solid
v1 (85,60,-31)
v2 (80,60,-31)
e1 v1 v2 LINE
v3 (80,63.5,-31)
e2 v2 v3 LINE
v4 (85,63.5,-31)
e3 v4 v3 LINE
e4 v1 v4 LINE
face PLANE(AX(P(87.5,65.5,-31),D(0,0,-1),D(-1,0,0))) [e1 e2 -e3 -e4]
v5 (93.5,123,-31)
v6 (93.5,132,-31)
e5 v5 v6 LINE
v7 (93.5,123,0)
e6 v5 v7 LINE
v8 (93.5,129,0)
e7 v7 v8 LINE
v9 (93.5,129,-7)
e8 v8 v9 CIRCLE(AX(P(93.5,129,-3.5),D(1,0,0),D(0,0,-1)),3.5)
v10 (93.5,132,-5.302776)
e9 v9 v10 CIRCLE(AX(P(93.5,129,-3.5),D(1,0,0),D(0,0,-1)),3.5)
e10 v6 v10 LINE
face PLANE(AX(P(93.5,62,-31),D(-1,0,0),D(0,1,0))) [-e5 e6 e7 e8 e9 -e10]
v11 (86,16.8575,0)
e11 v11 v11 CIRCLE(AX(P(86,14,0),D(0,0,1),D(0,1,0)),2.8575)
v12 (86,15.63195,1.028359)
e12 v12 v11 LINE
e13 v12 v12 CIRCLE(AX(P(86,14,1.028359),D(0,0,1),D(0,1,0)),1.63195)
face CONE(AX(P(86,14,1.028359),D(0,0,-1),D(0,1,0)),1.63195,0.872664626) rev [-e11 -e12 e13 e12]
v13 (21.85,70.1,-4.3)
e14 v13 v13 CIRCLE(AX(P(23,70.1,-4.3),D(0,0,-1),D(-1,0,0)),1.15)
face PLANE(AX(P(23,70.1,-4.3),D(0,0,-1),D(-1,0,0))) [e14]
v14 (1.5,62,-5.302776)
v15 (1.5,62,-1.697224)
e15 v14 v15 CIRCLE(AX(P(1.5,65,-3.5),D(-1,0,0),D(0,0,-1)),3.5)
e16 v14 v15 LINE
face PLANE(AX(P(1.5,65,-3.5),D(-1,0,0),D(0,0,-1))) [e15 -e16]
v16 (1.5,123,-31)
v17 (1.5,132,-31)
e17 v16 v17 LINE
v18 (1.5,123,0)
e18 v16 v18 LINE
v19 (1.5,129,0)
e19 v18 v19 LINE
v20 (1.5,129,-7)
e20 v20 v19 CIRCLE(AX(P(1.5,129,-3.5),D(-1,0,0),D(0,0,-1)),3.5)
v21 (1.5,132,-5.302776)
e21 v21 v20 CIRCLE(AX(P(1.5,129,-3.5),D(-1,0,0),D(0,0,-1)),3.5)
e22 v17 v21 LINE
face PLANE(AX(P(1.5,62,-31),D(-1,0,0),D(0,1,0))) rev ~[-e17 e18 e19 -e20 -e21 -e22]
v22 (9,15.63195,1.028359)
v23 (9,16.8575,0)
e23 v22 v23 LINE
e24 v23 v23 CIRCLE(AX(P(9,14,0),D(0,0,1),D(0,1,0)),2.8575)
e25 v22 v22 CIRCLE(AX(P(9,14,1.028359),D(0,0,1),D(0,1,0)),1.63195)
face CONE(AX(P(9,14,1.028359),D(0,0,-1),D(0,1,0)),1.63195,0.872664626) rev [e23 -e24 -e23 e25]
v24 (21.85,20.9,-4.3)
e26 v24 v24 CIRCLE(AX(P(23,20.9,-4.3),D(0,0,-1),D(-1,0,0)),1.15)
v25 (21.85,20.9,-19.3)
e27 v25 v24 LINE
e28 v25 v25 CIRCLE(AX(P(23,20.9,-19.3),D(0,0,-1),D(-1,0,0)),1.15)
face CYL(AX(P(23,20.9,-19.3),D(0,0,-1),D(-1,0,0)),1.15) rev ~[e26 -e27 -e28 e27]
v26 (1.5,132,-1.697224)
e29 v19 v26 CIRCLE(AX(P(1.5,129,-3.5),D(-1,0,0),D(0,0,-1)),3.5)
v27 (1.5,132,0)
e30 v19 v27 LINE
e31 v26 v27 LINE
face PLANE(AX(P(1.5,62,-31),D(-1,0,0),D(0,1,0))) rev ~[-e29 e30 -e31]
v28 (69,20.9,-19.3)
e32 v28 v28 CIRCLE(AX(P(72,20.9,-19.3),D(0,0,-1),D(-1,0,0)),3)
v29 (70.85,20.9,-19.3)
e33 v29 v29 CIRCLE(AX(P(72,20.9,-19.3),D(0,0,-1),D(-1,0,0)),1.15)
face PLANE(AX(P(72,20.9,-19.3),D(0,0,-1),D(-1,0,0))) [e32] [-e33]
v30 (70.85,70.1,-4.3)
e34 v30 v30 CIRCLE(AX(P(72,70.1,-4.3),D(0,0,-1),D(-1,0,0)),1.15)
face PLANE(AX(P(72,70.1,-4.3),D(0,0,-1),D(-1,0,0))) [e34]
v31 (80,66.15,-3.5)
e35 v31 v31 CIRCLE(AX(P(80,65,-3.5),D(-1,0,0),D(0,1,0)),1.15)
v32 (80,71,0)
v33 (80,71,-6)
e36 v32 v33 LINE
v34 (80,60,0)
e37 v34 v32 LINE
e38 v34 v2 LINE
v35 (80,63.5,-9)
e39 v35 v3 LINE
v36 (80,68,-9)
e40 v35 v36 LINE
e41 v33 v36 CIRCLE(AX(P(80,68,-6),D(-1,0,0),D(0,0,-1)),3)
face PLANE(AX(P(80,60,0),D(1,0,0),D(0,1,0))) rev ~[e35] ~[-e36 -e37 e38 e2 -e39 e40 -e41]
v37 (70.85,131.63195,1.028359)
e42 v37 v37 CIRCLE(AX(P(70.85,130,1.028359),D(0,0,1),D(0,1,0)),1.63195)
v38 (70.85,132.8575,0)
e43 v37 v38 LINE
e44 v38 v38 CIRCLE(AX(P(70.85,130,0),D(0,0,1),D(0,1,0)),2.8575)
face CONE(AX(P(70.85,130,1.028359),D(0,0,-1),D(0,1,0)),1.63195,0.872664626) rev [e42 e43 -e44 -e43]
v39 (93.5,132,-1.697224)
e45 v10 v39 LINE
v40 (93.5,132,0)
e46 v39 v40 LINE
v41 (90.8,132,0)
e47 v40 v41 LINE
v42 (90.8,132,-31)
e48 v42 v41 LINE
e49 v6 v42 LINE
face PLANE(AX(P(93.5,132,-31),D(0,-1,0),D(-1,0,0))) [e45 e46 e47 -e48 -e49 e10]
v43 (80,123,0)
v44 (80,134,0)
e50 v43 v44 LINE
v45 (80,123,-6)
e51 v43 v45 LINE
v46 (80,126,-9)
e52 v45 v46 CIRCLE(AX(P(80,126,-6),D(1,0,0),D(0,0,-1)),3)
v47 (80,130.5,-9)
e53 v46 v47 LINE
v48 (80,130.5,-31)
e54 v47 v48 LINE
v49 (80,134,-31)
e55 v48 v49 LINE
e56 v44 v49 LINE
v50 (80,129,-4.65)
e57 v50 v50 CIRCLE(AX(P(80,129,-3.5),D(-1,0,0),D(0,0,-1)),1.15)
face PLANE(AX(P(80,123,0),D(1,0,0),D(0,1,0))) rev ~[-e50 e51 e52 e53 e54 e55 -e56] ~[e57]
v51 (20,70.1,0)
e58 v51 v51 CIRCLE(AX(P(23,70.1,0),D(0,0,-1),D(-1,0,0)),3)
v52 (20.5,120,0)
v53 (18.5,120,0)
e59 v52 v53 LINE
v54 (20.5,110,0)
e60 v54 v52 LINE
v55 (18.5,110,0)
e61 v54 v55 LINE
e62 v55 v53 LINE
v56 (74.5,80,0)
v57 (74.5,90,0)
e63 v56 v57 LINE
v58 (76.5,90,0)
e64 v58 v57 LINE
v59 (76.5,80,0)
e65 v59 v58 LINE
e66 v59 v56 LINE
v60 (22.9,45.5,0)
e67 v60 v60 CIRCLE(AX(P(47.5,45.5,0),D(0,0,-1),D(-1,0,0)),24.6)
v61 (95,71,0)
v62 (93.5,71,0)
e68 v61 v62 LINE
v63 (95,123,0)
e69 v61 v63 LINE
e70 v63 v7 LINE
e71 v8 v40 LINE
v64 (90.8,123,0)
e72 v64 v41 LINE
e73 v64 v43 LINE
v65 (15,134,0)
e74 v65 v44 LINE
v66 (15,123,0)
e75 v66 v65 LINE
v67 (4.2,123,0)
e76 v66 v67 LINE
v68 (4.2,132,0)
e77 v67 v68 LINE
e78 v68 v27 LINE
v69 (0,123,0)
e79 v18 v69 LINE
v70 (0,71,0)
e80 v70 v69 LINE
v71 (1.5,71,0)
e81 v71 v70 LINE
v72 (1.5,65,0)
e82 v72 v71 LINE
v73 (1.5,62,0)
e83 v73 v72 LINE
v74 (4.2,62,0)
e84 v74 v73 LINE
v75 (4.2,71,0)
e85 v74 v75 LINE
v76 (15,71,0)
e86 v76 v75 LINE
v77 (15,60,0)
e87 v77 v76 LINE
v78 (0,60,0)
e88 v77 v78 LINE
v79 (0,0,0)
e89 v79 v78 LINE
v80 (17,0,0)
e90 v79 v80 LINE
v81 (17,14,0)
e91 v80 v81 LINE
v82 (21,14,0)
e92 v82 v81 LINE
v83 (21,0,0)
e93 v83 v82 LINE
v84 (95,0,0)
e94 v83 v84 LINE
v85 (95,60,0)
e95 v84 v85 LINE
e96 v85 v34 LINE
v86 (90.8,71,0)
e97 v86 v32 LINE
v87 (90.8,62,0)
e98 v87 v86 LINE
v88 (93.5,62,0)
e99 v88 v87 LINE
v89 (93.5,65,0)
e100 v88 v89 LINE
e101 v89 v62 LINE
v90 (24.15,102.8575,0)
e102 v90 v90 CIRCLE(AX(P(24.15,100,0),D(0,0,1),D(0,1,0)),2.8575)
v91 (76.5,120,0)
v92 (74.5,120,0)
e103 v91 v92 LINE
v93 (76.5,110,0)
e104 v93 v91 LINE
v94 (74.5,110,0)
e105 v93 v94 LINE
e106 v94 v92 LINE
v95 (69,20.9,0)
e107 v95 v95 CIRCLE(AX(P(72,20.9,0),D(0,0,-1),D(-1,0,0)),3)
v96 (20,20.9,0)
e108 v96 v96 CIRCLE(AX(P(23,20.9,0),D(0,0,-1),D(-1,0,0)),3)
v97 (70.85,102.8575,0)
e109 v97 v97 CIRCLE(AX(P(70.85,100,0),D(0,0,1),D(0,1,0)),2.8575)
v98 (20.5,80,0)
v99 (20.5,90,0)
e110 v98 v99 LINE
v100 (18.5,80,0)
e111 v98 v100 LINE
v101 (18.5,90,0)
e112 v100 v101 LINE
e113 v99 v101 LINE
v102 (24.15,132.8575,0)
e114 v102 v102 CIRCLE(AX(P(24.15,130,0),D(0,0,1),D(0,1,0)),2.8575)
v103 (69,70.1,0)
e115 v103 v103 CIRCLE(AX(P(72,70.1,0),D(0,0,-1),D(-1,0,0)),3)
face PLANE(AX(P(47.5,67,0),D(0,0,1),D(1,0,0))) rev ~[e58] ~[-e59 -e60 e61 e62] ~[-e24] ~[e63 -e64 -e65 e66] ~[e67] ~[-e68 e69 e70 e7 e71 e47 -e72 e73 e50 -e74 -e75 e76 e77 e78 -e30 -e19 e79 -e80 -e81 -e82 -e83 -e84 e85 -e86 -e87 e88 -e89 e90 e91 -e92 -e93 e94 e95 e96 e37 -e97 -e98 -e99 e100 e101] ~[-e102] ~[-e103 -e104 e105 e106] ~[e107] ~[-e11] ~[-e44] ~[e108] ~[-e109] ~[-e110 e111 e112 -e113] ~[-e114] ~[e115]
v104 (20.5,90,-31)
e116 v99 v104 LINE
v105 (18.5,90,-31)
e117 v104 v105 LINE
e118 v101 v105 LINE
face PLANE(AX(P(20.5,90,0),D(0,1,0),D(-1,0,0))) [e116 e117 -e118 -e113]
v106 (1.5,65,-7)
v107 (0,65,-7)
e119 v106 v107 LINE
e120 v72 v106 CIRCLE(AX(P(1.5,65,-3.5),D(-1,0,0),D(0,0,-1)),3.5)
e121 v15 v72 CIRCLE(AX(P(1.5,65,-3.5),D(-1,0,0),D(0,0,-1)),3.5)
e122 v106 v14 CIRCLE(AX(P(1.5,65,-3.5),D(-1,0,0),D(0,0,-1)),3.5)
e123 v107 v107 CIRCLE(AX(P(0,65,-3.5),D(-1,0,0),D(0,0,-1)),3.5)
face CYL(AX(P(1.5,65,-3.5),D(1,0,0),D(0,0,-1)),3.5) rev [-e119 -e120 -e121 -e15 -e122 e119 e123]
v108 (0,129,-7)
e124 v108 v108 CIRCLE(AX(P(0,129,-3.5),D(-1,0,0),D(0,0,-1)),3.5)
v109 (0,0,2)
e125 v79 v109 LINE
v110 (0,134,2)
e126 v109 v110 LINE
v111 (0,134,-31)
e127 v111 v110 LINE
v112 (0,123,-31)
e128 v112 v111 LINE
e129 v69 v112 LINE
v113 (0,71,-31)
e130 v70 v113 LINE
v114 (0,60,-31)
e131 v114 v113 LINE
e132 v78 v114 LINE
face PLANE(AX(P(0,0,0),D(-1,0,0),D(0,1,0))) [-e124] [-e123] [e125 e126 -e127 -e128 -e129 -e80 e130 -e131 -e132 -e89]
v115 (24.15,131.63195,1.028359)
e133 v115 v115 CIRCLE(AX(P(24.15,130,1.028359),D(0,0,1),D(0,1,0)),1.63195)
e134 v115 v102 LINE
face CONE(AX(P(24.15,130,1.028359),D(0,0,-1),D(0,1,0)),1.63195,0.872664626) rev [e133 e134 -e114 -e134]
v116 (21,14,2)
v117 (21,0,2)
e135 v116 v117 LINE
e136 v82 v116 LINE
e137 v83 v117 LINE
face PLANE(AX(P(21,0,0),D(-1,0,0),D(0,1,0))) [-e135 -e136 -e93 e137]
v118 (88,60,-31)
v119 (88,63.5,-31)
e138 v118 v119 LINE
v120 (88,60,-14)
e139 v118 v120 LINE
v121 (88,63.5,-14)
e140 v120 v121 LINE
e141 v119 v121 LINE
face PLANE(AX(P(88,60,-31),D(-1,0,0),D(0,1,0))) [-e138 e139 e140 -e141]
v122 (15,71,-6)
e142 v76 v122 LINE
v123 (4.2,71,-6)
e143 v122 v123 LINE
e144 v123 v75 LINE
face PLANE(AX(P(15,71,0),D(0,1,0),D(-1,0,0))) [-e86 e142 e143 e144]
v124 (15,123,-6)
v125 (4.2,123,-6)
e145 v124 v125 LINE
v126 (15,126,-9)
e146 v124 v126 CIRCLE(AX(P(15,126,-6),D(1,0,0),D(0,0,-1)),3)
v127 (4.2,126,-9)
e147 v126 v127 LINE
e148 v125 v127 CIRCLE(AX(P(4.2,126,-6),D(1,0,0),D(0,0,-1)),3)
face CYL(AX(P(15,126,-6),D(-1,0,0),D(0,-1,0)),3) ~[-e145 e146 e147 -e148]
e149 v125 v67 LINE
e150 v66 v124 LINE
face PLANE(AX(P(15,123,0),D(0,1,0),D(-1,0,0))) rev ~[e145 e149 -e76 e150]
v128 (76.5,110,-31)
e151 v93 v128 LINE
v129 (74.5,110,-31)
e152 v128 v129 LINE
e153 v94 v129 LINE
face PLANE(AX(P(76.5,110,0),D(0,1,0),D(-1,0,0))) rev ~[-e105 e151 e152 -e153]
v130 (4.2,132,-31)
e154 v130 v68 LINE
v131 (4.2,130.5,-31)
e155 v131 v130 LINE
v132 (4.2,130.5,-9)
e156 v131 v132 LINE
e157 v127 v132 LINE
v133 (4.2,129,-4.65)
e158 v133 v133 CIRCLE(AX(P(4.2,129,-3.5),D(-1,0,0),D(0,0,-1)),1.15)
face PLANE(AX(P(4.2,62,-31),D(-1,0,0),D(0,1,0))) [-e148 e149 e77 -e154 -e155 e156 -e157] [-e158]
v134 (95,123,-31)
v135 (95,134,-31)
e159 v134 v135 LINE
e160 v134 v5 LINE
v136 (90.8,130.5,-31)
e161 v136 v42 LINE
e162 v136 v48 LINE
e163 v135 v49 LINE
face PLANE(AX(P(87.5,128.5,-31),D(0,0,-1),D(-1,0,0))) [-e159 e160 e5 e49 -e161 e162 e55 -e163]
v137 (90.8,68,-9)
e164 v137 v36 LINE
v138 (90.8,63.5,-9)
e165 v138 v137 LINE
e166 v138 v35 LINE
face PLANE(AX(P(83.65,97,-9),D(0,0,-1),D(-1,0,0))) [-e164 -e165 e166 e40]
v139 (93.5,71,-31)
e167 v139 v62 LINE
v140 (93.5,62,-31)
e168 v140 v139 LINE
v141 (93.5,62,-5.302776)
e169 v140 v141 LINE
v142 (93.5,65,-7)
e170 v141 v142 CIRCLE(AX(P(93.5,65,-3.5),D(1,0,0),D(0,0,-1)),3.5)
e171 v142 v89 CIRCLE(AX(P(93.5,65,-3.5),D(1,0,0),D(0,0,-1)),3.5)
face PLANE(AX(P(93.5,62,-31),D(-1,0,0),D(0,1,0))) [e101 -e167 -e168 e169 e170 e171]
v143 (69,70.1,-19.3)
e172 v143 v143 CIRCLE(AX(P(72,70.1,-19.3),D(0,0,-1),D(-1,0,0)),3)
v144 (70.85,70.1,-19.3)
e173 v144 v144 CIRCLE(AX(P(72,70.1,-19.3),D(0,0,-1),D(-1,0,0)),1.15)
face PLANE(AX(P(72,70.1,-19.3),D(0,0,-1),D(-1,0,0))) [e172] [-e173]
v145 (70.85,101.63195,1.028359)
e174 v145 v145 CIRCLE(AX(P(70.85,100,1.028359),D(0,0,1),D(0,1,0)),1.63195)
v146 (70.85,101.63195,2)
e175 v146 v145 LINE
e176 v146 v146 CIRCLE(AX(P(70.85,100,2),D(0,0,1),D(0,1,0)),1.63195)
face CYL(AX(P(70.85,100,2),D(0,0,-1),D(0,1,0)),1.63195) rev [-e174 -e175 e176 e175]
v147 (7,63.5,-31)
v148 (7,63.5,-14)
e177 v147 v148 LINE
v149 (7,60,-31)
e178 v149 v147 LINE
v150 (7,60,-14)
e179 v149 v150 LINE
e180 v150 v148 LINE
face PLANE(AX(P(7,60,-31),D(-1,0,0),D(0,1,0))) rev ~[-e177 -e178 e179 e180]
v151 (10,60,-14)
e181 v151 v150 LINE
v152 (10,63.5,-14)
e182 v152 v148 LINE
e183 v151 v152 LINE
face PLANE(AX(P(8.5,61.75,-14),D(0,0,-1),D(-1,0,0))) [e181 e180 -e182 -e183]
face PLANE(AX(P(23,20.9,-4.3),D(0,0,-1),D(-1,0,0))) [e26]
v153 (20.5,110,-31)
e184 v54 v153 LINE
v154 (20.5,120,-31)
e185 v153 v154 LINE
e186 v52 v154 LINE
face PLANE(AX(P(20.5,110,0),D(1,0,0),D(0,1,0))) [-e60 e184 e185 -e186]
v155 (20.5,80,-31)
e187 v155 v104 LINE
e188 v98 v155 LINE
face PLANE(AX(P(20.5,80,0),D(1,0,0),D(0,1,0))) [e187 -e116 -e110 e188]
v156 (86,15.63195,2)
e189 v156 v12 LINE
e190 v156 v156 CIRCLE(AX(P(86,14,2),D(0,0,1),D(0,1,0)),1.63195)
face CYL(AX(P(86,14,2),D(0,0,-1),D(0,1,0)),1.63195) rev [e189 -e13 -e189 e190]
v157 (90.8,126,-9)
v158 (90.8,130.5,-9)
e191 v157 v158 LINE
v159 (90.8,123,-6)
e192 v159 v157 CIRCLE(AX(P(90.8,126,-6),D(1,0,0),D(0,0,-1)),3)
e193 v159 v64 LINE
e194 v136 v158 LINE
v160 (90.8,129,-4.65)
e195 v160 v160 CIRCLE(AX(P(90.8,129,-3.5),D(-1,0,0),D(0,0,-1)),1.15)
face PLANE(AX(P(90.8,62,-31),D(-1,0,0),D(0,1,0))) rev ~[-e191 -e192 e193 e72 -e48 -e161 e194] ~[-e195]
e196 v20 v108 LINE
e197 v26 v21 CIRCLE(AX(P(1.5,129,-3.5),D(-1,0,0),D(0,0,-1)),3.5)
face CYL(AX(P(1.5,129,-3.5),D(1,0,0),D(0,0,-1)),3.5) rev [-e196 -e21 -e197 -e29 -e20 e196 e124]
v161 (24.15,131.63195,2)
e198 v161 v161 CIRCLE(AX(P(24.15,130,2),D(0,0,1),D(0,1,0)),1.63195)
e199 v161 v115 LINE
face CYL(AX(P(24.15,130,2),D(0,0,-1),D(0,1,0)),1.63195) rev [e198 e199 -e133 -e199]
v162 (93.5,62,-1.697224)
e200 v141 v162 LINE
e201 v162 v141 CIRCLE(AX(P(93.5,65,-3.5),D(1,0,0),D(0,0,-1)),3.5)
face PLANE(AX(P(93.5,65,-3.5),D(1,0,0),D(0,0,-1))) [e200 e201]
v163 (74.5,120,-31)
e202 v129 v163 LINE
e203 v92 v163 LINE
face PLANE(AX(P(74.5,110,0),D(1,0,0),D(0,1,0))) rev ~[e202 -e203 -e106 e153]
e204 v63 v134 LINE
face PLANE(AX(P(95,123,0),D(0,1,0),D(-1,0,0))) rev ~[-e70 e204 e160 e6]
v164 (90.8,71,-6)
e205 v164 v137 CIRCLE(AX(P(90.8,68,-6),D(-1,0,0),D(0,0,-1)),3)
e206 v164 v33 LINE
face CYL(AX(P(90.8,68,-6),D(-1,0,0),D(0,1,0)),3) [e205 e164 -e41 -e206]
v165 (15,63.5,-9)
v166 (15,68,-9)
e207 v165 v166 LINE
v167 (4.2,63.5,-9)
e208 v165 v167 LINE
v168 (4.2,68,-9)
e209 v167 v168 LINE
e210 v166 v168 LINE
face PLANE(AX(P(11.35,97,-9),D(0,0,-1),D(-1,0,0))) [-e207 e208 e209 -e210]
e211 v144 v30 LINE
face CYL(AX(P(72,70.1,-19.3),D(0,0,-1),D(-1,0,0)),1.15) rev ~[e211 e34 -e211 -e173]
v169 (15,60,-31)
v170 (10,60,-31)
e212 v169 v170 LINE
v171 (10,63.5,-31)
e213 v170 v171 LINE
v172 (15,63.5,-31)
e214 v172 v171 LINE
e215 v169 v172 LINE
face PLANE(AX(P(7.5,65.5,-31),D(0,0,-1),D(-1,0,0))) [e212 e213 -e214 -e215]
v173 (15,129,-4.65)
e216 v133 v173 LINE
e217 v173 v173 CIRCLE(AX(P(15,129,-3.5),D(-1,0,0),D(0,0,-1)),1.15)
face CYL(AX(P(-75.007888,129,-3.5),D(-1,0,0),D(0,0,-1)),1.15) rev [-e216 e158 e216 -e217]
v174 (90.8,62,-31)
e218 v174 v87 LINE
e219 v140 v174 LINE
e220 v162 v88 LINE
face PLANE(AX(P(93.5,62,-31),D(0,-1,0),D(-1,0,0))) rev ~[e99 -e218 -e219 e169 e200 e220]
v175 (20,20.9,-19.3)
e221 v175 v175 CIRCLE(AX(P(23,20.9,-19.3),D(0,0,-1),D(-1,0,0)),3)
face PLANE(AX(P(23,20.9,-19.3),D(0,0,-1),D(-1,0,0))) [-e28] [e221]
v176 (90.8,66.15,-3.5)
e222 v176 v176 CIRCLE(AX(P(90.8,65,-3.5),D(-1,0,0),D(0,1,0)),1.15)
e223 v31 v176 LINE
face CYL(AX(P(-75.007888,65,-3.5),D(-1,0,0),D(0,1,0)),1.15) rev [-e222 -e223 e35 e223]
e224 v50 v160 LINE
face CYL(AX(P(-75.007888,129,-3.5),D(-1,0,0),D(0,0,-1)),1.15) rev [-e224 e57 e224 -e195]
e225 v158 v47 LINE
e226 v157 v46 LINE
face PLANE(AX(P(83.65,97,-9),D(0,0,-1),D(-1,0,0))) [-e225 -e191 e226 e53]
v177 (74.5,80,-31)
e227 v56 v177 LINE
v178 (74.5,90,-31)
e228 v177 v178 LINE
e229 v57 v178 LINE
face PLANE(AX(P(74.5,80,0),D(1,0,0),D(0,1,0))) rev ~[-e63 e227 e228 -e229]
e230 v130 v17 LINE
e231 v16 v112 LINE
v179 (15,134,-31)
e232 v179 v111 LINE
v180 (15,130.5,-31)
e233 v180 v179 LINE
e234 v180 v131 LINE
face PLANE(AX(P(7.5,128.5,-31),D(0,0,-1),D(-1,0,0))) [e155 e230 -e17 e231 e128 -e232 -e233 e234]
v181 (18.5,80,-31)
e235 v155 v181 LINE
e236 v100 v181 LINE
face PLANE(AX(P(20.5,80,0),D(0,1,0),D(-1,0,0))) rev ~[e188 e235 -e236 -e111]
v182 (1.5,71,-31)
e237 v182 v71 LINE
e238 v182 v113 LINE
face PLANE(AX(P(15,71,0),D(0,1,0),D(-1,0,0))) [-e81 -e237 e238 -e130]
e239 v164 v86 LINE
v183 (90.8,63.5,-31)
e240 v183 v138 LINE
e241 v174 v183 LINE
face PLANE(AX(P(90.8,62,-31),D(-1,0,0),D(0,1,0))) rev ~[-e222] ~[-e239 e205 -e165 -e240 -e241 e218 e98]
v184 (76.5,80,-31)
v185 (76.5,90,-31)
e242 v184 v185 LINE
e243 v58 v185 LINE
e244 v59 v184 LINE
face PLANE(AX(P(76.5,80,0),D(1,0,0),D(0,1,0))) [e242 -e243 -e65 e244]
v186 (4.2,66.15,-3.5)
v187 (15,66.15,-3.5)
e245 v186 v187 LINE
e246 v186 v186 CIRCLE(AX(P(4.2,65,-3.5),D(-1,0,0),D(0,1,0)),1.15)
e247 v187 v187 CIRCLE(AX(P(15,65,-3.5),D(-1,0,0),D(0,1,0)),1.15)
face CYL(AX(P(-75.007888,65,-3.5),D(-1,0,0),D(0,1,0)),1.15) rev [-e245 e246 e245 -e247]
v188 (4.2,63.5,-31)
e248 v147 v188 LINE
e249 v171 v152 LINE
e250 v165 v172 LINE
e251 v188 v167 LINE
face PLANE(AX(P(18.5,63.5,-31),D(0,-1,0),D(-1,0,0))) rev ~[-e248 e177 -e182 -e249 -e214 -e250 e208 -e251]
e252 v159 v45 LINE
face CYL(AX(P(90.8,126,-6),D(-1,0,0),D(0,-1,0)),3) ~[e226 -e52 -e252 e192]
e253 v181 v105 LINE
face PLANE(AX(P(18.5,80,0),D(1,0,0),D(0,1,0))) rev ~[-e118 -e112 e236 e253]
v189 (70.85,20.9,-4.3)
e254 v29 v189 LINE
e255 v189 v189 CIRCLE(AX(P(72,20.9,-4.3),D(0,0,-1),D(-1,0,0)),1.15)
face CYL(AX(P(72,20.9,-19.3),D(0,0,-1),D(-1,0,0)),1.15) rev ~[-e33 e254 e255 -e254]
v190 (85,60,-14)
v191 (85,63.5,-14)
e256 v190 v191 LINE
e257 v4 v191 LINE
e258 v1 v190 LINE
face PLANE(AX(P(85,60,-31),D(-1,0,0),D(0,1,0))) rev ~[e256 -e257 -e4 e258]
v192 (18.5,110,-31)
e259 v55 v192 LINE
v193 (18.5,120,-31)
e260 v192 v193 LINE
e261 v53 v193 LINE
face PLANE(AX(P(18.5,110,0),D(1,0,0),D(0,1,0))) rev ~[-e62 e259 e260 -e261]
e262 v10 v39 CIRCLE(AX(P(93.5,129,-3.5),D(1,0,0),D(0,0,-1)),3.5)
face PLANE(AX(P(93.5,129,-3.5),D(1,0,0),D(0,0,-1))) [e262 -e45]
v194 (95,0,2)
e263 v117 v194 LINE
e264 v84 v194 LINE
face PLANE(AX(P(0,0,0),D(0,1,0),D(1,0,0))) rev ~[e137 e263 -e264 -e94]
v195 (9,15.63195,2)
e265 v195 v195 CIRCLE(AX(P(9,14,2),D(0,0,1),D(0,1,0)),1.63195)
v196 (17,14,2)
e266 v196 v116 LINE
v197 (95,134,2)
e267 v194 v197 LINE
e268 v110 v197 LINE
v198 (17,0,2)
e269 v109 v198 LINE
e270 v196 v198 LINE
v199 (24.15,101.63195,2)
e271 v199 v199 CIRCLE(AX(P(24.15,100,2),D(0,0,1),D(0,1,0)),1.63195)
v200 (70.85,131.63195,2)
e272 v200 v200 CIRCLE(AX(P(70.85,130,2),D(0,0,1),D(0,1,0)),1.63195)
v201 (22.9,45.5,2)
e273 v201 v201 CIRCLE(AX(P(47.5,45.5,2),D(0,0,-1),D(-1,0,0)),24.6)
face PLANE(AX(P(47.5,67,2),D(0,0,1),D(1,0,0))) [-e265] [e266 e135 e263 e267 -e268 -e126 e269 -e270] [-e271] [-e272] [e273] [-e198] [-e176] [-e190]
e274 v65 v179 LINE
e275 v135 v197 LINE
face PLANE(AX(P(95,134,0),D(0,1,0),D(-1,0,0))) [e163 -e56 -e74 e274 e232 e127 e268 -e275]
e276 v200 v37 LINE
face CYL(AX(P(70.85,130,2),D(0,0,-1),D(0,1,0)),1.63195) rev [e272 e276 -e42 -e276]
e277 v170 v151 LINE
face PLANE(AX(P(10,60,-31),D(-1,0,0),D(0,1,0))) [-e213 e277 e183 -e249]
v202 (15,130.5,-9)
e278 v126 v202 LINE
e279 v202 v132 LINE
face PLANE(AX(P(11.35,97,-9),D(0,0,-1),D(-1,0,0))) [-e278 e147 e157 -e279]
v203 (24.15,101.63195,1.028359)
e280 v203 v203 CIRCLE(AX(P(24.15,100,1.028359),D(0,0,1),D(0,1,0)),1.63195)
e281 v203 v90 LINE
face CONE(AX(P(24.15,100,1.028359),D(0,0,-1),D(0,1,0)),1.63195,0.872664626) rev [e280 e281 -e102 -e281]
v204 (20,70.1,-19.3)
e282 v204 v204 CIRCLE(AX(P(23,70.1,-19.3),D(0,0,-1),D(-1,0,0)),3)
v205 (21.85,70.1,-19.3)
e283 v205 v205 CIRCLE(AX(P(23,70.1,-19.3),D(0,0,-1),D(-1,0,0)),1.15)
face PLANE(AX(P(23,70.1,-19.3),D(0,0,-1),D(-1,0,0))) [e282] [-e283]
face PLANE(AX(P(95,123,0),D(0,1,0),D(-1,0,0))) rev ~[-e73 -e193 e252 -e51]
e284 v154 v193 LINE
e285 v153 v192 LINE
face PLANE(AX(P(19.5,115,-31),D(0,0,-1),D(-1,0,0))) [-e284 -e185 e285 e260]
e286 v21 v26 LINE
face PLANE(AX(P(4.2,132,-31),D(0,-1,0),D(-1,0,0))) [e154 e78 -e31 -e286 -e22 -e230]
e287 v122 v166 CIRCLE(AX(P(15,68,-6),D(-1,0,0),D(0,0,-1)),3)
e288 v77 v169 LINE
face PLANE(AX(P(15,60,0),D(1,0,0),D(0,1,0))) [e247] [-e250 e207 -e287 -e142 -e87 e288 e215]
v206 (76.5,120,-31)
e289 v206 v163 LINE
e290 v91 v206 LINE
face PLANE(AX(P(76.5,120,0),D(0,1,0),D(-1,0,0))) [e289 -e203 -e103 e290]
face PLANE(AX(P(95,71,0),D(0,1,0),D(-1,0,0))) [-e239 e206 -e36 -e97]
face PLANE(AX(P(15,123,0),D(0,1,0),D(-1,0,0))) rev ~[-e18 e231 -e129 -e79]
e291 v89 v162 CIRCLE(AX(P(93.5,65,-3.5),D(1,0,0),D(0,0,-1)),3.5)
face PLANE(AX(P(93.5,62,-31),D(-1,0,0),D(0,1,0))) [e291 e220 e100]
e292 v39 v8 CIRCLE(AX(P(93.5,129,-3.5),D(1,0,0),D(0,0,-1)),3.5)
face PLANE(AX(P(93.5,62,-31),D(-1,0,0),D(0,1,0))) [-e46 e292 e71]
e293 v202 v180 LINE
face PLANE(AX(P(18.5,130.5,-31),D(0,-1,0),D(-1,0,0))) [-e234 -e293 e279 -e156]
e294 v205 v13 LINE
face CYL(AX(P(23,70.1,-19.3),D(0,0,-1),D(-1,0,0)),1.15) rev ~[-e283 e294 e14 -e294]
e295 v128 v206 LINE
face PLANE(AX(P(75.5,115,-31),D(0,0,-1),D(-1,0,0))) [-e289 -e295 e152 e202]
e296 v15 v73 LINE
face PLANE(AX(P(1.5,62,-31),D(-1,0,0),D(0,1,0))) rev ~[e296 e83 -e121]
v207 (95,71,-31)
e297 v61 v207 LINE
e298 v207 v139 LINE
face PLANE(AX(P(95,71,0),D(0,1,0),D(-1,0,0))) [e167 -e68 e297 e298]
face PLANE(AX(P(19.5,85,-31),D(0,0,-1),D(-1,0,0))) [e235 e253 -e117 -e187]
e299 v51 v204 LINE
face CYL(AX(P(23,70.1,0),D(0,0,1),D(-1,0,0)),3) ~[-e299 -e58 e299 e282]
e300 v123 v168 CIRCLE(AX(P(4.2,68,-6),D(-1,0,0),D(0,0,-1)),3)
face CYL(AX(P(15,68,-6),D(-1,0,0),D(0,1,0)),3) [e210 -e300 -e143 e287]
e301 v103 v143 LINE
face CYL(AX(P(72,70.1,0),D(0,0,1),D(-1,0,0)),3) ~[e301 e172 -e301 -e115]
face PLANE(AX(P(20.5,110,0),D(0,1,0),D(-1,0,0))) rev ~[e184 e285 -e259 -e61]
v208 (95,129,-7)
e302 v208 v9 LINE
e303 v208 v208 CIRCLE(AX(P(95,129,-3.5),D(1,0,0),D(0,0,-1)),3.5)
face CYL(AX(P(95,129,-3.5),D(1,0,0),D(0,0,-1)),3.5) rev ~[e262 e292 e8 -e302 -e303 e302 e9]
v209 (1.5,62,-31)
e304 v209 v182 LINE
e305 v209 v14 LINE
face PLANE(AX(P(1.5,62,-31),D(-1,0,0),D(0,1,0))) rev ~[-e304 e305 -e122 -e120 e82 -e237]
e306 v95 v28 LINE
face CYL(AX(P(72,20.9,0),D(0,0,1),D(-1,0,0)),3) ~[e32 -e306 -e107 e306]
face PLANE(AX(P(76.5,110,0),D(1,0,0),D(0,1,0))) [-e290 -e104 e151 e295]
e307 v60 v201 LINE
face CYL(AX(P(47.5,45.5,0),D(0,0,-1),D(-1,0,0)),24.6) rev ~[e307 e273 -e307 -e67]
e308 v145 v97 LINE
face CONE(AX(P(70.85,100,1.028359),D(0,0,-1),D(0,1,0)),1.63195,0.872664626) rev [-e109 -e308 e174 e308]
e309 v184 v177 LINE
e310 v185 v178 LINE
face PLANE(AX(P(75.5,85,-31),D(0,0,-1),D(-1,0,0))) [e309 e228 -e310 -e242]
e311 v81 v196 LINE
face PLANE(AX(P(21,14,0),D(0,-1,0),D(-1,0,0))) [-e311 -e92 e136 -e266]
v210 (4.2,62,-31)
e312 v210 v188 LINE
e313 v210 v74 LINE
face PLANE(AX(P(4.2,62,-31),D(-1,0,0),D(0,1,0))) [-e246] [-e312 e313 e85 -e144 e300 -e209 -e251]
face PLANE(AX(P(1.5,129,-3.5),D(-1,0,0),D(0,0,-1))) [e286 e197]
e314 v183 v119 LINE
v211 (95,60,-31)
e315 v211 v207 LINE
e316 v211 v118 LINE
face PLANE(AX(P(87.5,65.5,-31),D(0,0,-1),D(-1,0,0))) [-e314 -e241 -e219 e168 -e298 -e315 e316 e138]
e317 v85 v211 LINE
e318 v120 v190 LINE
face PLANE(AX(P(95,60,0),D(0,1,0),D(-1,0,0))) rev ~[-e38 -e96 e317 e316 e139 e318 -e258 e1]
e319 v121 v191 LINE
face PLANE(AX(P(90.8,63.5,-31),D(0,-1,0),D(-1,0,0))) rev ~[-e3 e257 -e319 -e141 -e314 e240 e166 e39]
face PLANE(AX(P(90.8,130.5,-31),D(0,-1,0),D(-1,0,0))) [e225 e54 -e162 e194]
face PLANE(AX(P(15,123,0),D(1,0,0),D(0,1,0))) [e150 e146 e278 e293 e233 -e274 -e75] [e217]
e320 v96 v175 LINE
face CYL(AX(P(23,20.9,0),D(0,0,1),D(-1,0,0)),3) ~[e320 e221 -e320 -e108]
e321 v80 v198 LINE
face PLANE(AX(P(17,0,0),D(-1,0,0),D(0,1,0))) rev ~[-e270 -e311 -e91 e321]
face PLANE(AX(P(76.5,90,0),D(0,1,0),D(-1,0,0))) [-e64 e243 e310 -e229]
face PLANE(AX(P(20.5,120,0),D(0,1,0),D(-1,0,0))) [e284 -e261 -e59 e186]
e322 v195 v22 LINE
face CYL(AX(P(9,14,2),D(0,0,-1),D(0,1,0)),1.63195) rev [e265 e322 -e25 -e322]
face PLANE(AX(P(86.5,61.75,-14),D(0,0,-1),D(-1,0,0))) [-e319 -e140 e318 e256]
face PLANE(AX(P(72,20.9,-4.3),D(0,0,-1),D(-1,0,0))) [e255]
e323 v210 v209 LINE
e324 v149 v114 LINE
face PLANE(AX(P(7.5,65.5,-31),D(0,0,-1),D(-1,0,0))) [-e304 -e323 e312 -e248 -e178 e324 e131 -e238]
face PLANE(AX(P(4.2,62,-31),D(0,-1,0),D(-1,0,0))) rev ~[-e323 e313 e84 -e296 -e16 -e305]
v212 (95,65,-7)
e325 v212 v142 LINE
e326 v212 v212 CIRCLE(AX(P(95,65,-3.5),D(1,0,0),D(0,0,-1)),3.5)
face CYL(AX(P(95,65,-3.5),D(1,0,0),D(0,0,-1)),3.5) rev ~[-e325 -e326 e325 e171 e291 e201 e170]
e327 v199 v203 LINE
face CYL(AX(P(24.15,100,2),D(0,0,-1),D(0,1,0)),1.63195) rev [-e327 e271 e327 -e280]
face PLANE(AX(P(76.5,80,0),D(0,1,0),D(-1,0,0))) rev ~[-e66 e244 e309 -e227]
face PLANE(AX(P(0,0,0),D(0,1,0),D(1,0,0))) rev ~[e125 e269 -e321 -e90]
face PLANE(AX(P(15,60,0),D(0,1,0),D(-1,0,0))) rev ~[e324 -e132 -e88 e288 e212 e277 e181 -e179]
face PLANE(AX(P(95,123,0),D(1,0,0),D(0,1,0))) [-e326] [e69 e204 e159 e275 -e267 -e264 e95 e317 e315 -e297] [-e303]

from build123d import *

# Parameters (mm, degrees)
SKETCH1_W                                 = 95
SKETCH1_H                                 = 134
BOSS_EXTRUDE1_DEPTH                       = 2
CSK_FOR_4_FLAT_HEAD_MACHINE_SCREW_2_COUNT = 2
CSK_FOR_4_FLAT_HEAD_MACHINE_SCREW_2_PITCH = 46.7
CSK_FOR_4_FLAT_HEAD_MACHINE_SCREW_3_COUNT = 2
CSK_FOR_4_FLAT_HEAD_MACHINE_SCREW_3_PITCH = 55.505765466
CSK_FOR_4_FLAT_HEAD_MACHINE_SCREW_4_COUNT = 2
CSK_FOR_4_FLAT_HEAD_MACHINE_SCREW_4_PITCH = 30
CSK_FOR_4_FLAT_HEAD_MACHINE_SCREW_5_COUNT = 2
CSK_FOR_4_FLAT_HEAD_MACHINE_SCREW_5_PITCH = 116.985137945
CSK_FOR_4_FLAT_HEAD_MACHINE_SCREW_6_COUNT = 2
CSK_FOR_4_FLAT_HEAD_MACHINE_SCREW_6_PITCH = 131.458824352
SKETCH13_R                                = 24.6
CUT_EXTRUDE2_DEPTH                        = 165.271117364
SKETCH14_R                                = 3
BOSS_EXTRUDE4_DEPTH                       = 19.3
SKETCH15_R                                = 1.15
CUT_EXTRUDE3_DEPTH                        = 15
SKETCH16_W                                = 4
SKETCH16_H                                = 14
CUT_EXTRUDE4_DEPTH                        = 166.388905311
SKETCH17_W                                = 15
SKETCH17_H                                = 11
BOSS_EXTRUDE5_DEPTH                       = 31
SKETCH18_W                                = 2.7
SKETCH18_H                                = 70
CUT_EXTRUDE5_DEPTH                        = 31
SKETCH19_W                                = 14.3
SKETCH19_H                                = 67
CUT_EXTRUDE6_DEPTH                        = 22
FILLET5_R                                 = 3
FILLET6_R                                 = 3
FILLET7_R                                 = 3
FILLET8_R                                 = 3
SKETCH20_W                                = 2
SKETCH20_H                                = 10
BOSS_EXTRUDE6_DEPTH                       = 31
CUT_EXTRUDE7_DEPTH                        = 165.807888161
CUT_EXTRUDE7_DEPTH_BACK                   = 165.807888161
SKETCH22_R                                = 1.15
SKETCH23_R                                = 3.5
CUT_EXTRUDE8_DEPTH                        = 1.5
CUT_EXTRUDE9_START                        = -1.5
SKETCH24_R                                = 3.5
CUT_EXTRUDE9_DEPTH                        = 1.5
SKETCH25_W                                = 3
SKETCH25_H                                = 3.5
CUT_EXTRUDE10_DEPTH                       = 17


with BuildPart() as part:
    # Sketch1 → Boss-Extrude1 (new body)
    with BuildSketch(Plane.XY):
        with Locations((47.5, 67)):
            Rectangle(SKETCH1_W, SKETCH1_H)
    extrude(amount=BOSS_EXTRUDE1_DEPTH)

    # Sketch8 → CSK for #4 Flat Head Machine Screw (100)2 (revolve, cut)
    with BuildSketch(Plane(origin=(70.85, 130, 0), x_dir=(0, 1, 0), z_dir=(1, 0, 0))):
        Polygon((0, 0), (0, 2), (1.63195, 2), (1.63195, 1.028358553), (2.8575, 0), align=None)
    csk_for_4_flat_head_machine_screw_100 = revolve(axis=Axis((70.85, 130, -6.35), (0, 0, 1)), mode=Mode.SUBTRACT)

    # CSK for _4 Flat Head Machine Screw _ 2: CSK for #4 Flat Head Machine Screw (100)2 ×2
    with Locations(*[(-i * CSK_FOR_4_FLAT_HEAD_MACHINE_SCREW_2_PITCH, 0, 0) for i in range(1, CSK_FOR_4_FLAT_HEAD_MACHINE_SCREW_2_COUNT)]):
        add(csk_for_4_flat_head_machine_screw_100, mode=Mode.SUBTRACT)

    # CSK for _4 Flat Head Machine Screw _ 3: CSK for #4 Flat Head Machine Screw (100)2 ×2
    with Locations(*[Vector(-0.8413540396691381, -0.540484393791738, 0) * (i * CSK_FOR_4_FLAT_HEAD_MACHINE_SCREW_3_PITCH) for i in range(1, CSK_FOR_4_FLAT_HEAD_MACHINE_SCREW_3_COUNT)]):
        add(csk_for_4_flat_head_machine_screw_100, mode=Mode.SUBTRACT)

    # CSK for _4 Flat Head Machine Screw _ 4: CSK for #4 Flat Head Machine Screw (100)2 ×2
    with Locations(*[(0, -i * CSK_FOR_4_FLAT_HEAD_MACHINE_SCREW_4_PITCH, 0) for i in range(1, CSK_FOR_4_FLAT_HEAD_MACHINE_SCREW_4_COUNT)]):
        add(csk_for_4_flat_head_machine_screw_100, mode=Mode.SUBTRACT)

    # CSK for _4 Flat Head Machine Screw _ 5: CSK for #4 Flat Head Machine Screw (100)2 ×2
    with Locations(*[Vector(0.12950362982970207, -0.991578947870986, 0) * (i * CSK_FOR_4_FLAT_HEAD_MACHINE_SCREW_5_PITCH) for i in range(1, CSK_FOR_4_FLAT_HEAD_MACHINE_SCREW_5_COUNT)]):
        add(csk_for_4_flat_head_machine_screw_100, mode=Mode.SUBTRACT)

    # CSK for _4 Flat Head Machine Screw _ 6: CSK for #4 Flat Head Machine Screw (100)2 ×2
    with Locations(*[Vector(-0.47048952632046626, -0.8824055788710445, 0) * (i * CSK_FOR_4_FLAT_HEAD_MACHINE_SCREW_6_PITCH) for i in range(1, CSK_FOR_4_FLAT_HEAD_MACHINE_SCREW_6_COUNT)]):
        add(csk_for_4_flat_head_machine_screw_100, mode=Mode.SUBTRACT)

    # Sketch13 → Cut-Extrude2 (cut, through all)
    with BuildSketch(Plane(origin=(0, 0, 0), x_dir=(-1, 0, 0), z_dir=(0, 0, -1))):
        with Locations((-47.5, 45.5)):
            Circle(SKETCH13_R)
    extrude(amount=-CUT_EXTRUDE2_DEPTH, mode=Mode.SUBTRACT)

    # Sketch14 → Boss-Extrude4 (add)
    with BuildSketch(Plane(origin=(0, 0, 0), x_dir=(-1, 0, 0), z_dir=(0, 0, -1))):
        with Locations((-72, 70.1)):
            Circle(SKETCH14_R)
        with Locations((-23, 70.1)):
            Circle(SKETCH14_R)
        with Locations((-72, 20.9)):
            Circle(SKETCH14_R)
        with Locations((-23, 20.9)):
            Circle(SKETCH14_R)
    extrude(amount=BOSS_EXTRUDE4_DEPTH)

    # Sketch15 → Cut-Extrude3 (cut)
    with BuildSketch(Plane(origin=(0, 0, -19.3), x_dir=(-1, 0, 0), z_dir=(0, 0, -1))):
        with Locations((-72, 70.1)):
            Circle(SKETCH15_R)
        with Locations((-23, 70.1)):
            Circle(SKETCH15_R)
        with Locations((-23, 20.9)):
            Circle(SKETCH15_R)
        with Locations((-72, 20.9)):
            Circle(SKETCH15_R)
    extrude(amount=-CUT_EXTRUDE3_DEPTH, mode=Mode.SUBTRACT)

    # Sketch16 → Cut-Extrude4 (cut, through all)
    with BuildSketch(Plane(origin=(0, 0, 0), x_dir=(-1, 0, 0), z_dir=(0, 0, -1))):
        with Locations((-19, 7)):
            Rectangle(SKETCH16_W, SKETCH16_H)
    extrude(amount=-CUT_EXTRUDE4_DEPTH, mode=Mode.SUBTRACT)

    # Sketch17 → Boss-Extrude5 (add)
    with BuildSketch(Plane(origin=(0, 0, 0), x_dir=(-1, 0, 0), z_dir=(0, 0, -1))):
        with Locations((-87.5, 128.5)):
            Rectangle(SKETCH17_W, SKETCH17_H)
        with Locations((-87.5, 65.5)):
            Rectangle(SKETCH17_W, SKETCH17_H)
        with Locations((-7.5, 65.5)):
            Rectangle(SKETCH17_W, SKETCH17_H)
        with Locations((-7.5, 128.5)):
            Rectangle(SKETCH17_W, SKETCH17_H)
    extrude(amount=BOSS_EXTRUDE5_DEPTH)

    # Sketch18 → Cut-Extrude5 (cut)
    with BuildSketch(Plane(origin=(0, 0, -31), x_dir=(-1, 0, 0), z_dir=(0, 0, -1))):
        with Locations((-92.15, 97)):
            Rectangle(SKETCH18_W, SKETCH18_H)
        with Locations((-2.85, 97)):
            Rectangle(SKETCH18_W, SKETCH18_H)
    extrude(amount=-CUT_EXTRUDE5_DEPTH, mode=Mode.SUBTRACT)

    # Sketch19 → Cut-Extrude6 (cut)
    with BuildSketch(Plane(origin=(0, 0, -31), x_dir=(-1, 0, 0), z_dir=(0, 0, -1))):
        with Locations((-83.65, 97)):
            Rectangle(SKETCH19_W, SKETCH19_H)
        with Locations((-11.35, 97)):
            Rectangle(SKETCH19_W, SKETCH19_H)
    extrude(amount=-CUT_EXTRUDE6_DEPTH, mode=Mode.SUBTRACT)

    # Fillet5
    fillet5_edges = [part.edges().sort_by_distance(p)[0] for p in [
        (85.4, 123, -9),
    ]]
    fillet(fillet5_edges, radius=FILLET5_R)

    # Fillet6
    fillet6_edges = [part.edges().sort_by_distance(p)[0] for p in [
        (9.6, 123, -9),
    ]]
    fillet(fillet6_edges, radius=FILLET6_R)

    # Fillet7
    fillet7_edges = [part.edges().sort_by_distance(p)[0] for p in [
        (9.6, 71, -9),
    ]]
    fillet(fillet7_edges, radius=FILLET7_R)

    # Fillet8
    fillet8_edges = [part.edges().sort_by_distance(p)[0] for p in [
        (85.4, 71, -9),
    ]]
    fillet(fillet8_edges, radius=FILLET8_R)

    # Sketch20 → Boss-Extrude6 (add)
    with BuildSketch(Plane(origin=(0, 0, 0), x_dir=(-1, 0, 0), z_dir=(0, 0, -1))):
        with Locations((-75.5, 115)):
            Rectangle(SKETCH20_W, SKETCH20_H)
        with Locations((-75.5, 85)):
            Rectangle(SKETCH20_W, SKETCH20_H)
        with Locations((-19.5, 85)):
            Rectangle(SKETCH20_W, SKETCH20_H)
        with Locations((-19.5, 115)):
            Rectangle(SKETCH20_W, SKETCH20_H)
    extrude(amount=BOSS_EXTRUDE6_DEPTH)

    # Sketch22 → Cut-Extrude7 (cut, two sides: drawn at the far end of the back side and taken through both)
    with BuildSketch(Plane(origin=(90.8, 0, 0), x_dir=(0, 0, -1), z_dir=(1, 0, 0)).offset(-CUT_EXTRUDE7_DEPTH_BACK)):
        with Locations((3.5, 129)):
            Circle(SKETCH22_R)
        with Locations(Location((3.5, 65, 0), (0, 0, 90))):
            Circle(SKETCH22_R)
    extrude(amount=CUT_EXTRUDE7_DEPTH + CUT_EXTRUDE7_DEPTH_BACK, mode=Mode.SUBTRACT)

    # Sketch23 → Cut-Extrude8 (cut)
    with BuildSketch(Plane(origin=(95, 0, 0), x_dir=(0, 0, -1), z_dir=(1, 0, 0))):
        with Locations((3.5, 129)):
            Circle(SKETCH23_R)
        with Locations((3.5, 65)):
            Circle(SKETCH23_R)
    extrude(amount=-CUT_EXTRUDE8_DEPTH, mode=Mode.SUBTRACT)

    # Sketch24 → Cut-Extrude9 (cut)
    with BuildSketch(Plane.ZY.offset(CUT_EXTRUDE9_START)):
        with Locations(Location((-3.5, 129, 0), (0, 0, 180))):
            Circle(SKETCH24_R)
        with Locations(Location((-3.5, 65, 0), (0, 0, 180))):
            Circle(SKETCH24_R)
    extrude(amount=CUT_EXTRUDE9_DEPTH, mode=Mode.SUBTRACT)

    # Sketch25 → Cut-Extrude10 (cut)
    with BuildSketch(Plane(origin=(0, 0, -31), x_dir=(-1, 0, 0), z_dir=(0, 0, -1))):
        with Locations((-8.5, 61.75)):
            Rectangle(SKETCH25_W, SKETCH25_H)
        with Locations((-86.5, 61.75)):
            Rectangle(SKETCH25_W, SKETCH25_H)
    extrude(amount=-CUT_EXTRUDE10_DEPTH, mode=Mode.SUBTRACT)


solid = part.part
